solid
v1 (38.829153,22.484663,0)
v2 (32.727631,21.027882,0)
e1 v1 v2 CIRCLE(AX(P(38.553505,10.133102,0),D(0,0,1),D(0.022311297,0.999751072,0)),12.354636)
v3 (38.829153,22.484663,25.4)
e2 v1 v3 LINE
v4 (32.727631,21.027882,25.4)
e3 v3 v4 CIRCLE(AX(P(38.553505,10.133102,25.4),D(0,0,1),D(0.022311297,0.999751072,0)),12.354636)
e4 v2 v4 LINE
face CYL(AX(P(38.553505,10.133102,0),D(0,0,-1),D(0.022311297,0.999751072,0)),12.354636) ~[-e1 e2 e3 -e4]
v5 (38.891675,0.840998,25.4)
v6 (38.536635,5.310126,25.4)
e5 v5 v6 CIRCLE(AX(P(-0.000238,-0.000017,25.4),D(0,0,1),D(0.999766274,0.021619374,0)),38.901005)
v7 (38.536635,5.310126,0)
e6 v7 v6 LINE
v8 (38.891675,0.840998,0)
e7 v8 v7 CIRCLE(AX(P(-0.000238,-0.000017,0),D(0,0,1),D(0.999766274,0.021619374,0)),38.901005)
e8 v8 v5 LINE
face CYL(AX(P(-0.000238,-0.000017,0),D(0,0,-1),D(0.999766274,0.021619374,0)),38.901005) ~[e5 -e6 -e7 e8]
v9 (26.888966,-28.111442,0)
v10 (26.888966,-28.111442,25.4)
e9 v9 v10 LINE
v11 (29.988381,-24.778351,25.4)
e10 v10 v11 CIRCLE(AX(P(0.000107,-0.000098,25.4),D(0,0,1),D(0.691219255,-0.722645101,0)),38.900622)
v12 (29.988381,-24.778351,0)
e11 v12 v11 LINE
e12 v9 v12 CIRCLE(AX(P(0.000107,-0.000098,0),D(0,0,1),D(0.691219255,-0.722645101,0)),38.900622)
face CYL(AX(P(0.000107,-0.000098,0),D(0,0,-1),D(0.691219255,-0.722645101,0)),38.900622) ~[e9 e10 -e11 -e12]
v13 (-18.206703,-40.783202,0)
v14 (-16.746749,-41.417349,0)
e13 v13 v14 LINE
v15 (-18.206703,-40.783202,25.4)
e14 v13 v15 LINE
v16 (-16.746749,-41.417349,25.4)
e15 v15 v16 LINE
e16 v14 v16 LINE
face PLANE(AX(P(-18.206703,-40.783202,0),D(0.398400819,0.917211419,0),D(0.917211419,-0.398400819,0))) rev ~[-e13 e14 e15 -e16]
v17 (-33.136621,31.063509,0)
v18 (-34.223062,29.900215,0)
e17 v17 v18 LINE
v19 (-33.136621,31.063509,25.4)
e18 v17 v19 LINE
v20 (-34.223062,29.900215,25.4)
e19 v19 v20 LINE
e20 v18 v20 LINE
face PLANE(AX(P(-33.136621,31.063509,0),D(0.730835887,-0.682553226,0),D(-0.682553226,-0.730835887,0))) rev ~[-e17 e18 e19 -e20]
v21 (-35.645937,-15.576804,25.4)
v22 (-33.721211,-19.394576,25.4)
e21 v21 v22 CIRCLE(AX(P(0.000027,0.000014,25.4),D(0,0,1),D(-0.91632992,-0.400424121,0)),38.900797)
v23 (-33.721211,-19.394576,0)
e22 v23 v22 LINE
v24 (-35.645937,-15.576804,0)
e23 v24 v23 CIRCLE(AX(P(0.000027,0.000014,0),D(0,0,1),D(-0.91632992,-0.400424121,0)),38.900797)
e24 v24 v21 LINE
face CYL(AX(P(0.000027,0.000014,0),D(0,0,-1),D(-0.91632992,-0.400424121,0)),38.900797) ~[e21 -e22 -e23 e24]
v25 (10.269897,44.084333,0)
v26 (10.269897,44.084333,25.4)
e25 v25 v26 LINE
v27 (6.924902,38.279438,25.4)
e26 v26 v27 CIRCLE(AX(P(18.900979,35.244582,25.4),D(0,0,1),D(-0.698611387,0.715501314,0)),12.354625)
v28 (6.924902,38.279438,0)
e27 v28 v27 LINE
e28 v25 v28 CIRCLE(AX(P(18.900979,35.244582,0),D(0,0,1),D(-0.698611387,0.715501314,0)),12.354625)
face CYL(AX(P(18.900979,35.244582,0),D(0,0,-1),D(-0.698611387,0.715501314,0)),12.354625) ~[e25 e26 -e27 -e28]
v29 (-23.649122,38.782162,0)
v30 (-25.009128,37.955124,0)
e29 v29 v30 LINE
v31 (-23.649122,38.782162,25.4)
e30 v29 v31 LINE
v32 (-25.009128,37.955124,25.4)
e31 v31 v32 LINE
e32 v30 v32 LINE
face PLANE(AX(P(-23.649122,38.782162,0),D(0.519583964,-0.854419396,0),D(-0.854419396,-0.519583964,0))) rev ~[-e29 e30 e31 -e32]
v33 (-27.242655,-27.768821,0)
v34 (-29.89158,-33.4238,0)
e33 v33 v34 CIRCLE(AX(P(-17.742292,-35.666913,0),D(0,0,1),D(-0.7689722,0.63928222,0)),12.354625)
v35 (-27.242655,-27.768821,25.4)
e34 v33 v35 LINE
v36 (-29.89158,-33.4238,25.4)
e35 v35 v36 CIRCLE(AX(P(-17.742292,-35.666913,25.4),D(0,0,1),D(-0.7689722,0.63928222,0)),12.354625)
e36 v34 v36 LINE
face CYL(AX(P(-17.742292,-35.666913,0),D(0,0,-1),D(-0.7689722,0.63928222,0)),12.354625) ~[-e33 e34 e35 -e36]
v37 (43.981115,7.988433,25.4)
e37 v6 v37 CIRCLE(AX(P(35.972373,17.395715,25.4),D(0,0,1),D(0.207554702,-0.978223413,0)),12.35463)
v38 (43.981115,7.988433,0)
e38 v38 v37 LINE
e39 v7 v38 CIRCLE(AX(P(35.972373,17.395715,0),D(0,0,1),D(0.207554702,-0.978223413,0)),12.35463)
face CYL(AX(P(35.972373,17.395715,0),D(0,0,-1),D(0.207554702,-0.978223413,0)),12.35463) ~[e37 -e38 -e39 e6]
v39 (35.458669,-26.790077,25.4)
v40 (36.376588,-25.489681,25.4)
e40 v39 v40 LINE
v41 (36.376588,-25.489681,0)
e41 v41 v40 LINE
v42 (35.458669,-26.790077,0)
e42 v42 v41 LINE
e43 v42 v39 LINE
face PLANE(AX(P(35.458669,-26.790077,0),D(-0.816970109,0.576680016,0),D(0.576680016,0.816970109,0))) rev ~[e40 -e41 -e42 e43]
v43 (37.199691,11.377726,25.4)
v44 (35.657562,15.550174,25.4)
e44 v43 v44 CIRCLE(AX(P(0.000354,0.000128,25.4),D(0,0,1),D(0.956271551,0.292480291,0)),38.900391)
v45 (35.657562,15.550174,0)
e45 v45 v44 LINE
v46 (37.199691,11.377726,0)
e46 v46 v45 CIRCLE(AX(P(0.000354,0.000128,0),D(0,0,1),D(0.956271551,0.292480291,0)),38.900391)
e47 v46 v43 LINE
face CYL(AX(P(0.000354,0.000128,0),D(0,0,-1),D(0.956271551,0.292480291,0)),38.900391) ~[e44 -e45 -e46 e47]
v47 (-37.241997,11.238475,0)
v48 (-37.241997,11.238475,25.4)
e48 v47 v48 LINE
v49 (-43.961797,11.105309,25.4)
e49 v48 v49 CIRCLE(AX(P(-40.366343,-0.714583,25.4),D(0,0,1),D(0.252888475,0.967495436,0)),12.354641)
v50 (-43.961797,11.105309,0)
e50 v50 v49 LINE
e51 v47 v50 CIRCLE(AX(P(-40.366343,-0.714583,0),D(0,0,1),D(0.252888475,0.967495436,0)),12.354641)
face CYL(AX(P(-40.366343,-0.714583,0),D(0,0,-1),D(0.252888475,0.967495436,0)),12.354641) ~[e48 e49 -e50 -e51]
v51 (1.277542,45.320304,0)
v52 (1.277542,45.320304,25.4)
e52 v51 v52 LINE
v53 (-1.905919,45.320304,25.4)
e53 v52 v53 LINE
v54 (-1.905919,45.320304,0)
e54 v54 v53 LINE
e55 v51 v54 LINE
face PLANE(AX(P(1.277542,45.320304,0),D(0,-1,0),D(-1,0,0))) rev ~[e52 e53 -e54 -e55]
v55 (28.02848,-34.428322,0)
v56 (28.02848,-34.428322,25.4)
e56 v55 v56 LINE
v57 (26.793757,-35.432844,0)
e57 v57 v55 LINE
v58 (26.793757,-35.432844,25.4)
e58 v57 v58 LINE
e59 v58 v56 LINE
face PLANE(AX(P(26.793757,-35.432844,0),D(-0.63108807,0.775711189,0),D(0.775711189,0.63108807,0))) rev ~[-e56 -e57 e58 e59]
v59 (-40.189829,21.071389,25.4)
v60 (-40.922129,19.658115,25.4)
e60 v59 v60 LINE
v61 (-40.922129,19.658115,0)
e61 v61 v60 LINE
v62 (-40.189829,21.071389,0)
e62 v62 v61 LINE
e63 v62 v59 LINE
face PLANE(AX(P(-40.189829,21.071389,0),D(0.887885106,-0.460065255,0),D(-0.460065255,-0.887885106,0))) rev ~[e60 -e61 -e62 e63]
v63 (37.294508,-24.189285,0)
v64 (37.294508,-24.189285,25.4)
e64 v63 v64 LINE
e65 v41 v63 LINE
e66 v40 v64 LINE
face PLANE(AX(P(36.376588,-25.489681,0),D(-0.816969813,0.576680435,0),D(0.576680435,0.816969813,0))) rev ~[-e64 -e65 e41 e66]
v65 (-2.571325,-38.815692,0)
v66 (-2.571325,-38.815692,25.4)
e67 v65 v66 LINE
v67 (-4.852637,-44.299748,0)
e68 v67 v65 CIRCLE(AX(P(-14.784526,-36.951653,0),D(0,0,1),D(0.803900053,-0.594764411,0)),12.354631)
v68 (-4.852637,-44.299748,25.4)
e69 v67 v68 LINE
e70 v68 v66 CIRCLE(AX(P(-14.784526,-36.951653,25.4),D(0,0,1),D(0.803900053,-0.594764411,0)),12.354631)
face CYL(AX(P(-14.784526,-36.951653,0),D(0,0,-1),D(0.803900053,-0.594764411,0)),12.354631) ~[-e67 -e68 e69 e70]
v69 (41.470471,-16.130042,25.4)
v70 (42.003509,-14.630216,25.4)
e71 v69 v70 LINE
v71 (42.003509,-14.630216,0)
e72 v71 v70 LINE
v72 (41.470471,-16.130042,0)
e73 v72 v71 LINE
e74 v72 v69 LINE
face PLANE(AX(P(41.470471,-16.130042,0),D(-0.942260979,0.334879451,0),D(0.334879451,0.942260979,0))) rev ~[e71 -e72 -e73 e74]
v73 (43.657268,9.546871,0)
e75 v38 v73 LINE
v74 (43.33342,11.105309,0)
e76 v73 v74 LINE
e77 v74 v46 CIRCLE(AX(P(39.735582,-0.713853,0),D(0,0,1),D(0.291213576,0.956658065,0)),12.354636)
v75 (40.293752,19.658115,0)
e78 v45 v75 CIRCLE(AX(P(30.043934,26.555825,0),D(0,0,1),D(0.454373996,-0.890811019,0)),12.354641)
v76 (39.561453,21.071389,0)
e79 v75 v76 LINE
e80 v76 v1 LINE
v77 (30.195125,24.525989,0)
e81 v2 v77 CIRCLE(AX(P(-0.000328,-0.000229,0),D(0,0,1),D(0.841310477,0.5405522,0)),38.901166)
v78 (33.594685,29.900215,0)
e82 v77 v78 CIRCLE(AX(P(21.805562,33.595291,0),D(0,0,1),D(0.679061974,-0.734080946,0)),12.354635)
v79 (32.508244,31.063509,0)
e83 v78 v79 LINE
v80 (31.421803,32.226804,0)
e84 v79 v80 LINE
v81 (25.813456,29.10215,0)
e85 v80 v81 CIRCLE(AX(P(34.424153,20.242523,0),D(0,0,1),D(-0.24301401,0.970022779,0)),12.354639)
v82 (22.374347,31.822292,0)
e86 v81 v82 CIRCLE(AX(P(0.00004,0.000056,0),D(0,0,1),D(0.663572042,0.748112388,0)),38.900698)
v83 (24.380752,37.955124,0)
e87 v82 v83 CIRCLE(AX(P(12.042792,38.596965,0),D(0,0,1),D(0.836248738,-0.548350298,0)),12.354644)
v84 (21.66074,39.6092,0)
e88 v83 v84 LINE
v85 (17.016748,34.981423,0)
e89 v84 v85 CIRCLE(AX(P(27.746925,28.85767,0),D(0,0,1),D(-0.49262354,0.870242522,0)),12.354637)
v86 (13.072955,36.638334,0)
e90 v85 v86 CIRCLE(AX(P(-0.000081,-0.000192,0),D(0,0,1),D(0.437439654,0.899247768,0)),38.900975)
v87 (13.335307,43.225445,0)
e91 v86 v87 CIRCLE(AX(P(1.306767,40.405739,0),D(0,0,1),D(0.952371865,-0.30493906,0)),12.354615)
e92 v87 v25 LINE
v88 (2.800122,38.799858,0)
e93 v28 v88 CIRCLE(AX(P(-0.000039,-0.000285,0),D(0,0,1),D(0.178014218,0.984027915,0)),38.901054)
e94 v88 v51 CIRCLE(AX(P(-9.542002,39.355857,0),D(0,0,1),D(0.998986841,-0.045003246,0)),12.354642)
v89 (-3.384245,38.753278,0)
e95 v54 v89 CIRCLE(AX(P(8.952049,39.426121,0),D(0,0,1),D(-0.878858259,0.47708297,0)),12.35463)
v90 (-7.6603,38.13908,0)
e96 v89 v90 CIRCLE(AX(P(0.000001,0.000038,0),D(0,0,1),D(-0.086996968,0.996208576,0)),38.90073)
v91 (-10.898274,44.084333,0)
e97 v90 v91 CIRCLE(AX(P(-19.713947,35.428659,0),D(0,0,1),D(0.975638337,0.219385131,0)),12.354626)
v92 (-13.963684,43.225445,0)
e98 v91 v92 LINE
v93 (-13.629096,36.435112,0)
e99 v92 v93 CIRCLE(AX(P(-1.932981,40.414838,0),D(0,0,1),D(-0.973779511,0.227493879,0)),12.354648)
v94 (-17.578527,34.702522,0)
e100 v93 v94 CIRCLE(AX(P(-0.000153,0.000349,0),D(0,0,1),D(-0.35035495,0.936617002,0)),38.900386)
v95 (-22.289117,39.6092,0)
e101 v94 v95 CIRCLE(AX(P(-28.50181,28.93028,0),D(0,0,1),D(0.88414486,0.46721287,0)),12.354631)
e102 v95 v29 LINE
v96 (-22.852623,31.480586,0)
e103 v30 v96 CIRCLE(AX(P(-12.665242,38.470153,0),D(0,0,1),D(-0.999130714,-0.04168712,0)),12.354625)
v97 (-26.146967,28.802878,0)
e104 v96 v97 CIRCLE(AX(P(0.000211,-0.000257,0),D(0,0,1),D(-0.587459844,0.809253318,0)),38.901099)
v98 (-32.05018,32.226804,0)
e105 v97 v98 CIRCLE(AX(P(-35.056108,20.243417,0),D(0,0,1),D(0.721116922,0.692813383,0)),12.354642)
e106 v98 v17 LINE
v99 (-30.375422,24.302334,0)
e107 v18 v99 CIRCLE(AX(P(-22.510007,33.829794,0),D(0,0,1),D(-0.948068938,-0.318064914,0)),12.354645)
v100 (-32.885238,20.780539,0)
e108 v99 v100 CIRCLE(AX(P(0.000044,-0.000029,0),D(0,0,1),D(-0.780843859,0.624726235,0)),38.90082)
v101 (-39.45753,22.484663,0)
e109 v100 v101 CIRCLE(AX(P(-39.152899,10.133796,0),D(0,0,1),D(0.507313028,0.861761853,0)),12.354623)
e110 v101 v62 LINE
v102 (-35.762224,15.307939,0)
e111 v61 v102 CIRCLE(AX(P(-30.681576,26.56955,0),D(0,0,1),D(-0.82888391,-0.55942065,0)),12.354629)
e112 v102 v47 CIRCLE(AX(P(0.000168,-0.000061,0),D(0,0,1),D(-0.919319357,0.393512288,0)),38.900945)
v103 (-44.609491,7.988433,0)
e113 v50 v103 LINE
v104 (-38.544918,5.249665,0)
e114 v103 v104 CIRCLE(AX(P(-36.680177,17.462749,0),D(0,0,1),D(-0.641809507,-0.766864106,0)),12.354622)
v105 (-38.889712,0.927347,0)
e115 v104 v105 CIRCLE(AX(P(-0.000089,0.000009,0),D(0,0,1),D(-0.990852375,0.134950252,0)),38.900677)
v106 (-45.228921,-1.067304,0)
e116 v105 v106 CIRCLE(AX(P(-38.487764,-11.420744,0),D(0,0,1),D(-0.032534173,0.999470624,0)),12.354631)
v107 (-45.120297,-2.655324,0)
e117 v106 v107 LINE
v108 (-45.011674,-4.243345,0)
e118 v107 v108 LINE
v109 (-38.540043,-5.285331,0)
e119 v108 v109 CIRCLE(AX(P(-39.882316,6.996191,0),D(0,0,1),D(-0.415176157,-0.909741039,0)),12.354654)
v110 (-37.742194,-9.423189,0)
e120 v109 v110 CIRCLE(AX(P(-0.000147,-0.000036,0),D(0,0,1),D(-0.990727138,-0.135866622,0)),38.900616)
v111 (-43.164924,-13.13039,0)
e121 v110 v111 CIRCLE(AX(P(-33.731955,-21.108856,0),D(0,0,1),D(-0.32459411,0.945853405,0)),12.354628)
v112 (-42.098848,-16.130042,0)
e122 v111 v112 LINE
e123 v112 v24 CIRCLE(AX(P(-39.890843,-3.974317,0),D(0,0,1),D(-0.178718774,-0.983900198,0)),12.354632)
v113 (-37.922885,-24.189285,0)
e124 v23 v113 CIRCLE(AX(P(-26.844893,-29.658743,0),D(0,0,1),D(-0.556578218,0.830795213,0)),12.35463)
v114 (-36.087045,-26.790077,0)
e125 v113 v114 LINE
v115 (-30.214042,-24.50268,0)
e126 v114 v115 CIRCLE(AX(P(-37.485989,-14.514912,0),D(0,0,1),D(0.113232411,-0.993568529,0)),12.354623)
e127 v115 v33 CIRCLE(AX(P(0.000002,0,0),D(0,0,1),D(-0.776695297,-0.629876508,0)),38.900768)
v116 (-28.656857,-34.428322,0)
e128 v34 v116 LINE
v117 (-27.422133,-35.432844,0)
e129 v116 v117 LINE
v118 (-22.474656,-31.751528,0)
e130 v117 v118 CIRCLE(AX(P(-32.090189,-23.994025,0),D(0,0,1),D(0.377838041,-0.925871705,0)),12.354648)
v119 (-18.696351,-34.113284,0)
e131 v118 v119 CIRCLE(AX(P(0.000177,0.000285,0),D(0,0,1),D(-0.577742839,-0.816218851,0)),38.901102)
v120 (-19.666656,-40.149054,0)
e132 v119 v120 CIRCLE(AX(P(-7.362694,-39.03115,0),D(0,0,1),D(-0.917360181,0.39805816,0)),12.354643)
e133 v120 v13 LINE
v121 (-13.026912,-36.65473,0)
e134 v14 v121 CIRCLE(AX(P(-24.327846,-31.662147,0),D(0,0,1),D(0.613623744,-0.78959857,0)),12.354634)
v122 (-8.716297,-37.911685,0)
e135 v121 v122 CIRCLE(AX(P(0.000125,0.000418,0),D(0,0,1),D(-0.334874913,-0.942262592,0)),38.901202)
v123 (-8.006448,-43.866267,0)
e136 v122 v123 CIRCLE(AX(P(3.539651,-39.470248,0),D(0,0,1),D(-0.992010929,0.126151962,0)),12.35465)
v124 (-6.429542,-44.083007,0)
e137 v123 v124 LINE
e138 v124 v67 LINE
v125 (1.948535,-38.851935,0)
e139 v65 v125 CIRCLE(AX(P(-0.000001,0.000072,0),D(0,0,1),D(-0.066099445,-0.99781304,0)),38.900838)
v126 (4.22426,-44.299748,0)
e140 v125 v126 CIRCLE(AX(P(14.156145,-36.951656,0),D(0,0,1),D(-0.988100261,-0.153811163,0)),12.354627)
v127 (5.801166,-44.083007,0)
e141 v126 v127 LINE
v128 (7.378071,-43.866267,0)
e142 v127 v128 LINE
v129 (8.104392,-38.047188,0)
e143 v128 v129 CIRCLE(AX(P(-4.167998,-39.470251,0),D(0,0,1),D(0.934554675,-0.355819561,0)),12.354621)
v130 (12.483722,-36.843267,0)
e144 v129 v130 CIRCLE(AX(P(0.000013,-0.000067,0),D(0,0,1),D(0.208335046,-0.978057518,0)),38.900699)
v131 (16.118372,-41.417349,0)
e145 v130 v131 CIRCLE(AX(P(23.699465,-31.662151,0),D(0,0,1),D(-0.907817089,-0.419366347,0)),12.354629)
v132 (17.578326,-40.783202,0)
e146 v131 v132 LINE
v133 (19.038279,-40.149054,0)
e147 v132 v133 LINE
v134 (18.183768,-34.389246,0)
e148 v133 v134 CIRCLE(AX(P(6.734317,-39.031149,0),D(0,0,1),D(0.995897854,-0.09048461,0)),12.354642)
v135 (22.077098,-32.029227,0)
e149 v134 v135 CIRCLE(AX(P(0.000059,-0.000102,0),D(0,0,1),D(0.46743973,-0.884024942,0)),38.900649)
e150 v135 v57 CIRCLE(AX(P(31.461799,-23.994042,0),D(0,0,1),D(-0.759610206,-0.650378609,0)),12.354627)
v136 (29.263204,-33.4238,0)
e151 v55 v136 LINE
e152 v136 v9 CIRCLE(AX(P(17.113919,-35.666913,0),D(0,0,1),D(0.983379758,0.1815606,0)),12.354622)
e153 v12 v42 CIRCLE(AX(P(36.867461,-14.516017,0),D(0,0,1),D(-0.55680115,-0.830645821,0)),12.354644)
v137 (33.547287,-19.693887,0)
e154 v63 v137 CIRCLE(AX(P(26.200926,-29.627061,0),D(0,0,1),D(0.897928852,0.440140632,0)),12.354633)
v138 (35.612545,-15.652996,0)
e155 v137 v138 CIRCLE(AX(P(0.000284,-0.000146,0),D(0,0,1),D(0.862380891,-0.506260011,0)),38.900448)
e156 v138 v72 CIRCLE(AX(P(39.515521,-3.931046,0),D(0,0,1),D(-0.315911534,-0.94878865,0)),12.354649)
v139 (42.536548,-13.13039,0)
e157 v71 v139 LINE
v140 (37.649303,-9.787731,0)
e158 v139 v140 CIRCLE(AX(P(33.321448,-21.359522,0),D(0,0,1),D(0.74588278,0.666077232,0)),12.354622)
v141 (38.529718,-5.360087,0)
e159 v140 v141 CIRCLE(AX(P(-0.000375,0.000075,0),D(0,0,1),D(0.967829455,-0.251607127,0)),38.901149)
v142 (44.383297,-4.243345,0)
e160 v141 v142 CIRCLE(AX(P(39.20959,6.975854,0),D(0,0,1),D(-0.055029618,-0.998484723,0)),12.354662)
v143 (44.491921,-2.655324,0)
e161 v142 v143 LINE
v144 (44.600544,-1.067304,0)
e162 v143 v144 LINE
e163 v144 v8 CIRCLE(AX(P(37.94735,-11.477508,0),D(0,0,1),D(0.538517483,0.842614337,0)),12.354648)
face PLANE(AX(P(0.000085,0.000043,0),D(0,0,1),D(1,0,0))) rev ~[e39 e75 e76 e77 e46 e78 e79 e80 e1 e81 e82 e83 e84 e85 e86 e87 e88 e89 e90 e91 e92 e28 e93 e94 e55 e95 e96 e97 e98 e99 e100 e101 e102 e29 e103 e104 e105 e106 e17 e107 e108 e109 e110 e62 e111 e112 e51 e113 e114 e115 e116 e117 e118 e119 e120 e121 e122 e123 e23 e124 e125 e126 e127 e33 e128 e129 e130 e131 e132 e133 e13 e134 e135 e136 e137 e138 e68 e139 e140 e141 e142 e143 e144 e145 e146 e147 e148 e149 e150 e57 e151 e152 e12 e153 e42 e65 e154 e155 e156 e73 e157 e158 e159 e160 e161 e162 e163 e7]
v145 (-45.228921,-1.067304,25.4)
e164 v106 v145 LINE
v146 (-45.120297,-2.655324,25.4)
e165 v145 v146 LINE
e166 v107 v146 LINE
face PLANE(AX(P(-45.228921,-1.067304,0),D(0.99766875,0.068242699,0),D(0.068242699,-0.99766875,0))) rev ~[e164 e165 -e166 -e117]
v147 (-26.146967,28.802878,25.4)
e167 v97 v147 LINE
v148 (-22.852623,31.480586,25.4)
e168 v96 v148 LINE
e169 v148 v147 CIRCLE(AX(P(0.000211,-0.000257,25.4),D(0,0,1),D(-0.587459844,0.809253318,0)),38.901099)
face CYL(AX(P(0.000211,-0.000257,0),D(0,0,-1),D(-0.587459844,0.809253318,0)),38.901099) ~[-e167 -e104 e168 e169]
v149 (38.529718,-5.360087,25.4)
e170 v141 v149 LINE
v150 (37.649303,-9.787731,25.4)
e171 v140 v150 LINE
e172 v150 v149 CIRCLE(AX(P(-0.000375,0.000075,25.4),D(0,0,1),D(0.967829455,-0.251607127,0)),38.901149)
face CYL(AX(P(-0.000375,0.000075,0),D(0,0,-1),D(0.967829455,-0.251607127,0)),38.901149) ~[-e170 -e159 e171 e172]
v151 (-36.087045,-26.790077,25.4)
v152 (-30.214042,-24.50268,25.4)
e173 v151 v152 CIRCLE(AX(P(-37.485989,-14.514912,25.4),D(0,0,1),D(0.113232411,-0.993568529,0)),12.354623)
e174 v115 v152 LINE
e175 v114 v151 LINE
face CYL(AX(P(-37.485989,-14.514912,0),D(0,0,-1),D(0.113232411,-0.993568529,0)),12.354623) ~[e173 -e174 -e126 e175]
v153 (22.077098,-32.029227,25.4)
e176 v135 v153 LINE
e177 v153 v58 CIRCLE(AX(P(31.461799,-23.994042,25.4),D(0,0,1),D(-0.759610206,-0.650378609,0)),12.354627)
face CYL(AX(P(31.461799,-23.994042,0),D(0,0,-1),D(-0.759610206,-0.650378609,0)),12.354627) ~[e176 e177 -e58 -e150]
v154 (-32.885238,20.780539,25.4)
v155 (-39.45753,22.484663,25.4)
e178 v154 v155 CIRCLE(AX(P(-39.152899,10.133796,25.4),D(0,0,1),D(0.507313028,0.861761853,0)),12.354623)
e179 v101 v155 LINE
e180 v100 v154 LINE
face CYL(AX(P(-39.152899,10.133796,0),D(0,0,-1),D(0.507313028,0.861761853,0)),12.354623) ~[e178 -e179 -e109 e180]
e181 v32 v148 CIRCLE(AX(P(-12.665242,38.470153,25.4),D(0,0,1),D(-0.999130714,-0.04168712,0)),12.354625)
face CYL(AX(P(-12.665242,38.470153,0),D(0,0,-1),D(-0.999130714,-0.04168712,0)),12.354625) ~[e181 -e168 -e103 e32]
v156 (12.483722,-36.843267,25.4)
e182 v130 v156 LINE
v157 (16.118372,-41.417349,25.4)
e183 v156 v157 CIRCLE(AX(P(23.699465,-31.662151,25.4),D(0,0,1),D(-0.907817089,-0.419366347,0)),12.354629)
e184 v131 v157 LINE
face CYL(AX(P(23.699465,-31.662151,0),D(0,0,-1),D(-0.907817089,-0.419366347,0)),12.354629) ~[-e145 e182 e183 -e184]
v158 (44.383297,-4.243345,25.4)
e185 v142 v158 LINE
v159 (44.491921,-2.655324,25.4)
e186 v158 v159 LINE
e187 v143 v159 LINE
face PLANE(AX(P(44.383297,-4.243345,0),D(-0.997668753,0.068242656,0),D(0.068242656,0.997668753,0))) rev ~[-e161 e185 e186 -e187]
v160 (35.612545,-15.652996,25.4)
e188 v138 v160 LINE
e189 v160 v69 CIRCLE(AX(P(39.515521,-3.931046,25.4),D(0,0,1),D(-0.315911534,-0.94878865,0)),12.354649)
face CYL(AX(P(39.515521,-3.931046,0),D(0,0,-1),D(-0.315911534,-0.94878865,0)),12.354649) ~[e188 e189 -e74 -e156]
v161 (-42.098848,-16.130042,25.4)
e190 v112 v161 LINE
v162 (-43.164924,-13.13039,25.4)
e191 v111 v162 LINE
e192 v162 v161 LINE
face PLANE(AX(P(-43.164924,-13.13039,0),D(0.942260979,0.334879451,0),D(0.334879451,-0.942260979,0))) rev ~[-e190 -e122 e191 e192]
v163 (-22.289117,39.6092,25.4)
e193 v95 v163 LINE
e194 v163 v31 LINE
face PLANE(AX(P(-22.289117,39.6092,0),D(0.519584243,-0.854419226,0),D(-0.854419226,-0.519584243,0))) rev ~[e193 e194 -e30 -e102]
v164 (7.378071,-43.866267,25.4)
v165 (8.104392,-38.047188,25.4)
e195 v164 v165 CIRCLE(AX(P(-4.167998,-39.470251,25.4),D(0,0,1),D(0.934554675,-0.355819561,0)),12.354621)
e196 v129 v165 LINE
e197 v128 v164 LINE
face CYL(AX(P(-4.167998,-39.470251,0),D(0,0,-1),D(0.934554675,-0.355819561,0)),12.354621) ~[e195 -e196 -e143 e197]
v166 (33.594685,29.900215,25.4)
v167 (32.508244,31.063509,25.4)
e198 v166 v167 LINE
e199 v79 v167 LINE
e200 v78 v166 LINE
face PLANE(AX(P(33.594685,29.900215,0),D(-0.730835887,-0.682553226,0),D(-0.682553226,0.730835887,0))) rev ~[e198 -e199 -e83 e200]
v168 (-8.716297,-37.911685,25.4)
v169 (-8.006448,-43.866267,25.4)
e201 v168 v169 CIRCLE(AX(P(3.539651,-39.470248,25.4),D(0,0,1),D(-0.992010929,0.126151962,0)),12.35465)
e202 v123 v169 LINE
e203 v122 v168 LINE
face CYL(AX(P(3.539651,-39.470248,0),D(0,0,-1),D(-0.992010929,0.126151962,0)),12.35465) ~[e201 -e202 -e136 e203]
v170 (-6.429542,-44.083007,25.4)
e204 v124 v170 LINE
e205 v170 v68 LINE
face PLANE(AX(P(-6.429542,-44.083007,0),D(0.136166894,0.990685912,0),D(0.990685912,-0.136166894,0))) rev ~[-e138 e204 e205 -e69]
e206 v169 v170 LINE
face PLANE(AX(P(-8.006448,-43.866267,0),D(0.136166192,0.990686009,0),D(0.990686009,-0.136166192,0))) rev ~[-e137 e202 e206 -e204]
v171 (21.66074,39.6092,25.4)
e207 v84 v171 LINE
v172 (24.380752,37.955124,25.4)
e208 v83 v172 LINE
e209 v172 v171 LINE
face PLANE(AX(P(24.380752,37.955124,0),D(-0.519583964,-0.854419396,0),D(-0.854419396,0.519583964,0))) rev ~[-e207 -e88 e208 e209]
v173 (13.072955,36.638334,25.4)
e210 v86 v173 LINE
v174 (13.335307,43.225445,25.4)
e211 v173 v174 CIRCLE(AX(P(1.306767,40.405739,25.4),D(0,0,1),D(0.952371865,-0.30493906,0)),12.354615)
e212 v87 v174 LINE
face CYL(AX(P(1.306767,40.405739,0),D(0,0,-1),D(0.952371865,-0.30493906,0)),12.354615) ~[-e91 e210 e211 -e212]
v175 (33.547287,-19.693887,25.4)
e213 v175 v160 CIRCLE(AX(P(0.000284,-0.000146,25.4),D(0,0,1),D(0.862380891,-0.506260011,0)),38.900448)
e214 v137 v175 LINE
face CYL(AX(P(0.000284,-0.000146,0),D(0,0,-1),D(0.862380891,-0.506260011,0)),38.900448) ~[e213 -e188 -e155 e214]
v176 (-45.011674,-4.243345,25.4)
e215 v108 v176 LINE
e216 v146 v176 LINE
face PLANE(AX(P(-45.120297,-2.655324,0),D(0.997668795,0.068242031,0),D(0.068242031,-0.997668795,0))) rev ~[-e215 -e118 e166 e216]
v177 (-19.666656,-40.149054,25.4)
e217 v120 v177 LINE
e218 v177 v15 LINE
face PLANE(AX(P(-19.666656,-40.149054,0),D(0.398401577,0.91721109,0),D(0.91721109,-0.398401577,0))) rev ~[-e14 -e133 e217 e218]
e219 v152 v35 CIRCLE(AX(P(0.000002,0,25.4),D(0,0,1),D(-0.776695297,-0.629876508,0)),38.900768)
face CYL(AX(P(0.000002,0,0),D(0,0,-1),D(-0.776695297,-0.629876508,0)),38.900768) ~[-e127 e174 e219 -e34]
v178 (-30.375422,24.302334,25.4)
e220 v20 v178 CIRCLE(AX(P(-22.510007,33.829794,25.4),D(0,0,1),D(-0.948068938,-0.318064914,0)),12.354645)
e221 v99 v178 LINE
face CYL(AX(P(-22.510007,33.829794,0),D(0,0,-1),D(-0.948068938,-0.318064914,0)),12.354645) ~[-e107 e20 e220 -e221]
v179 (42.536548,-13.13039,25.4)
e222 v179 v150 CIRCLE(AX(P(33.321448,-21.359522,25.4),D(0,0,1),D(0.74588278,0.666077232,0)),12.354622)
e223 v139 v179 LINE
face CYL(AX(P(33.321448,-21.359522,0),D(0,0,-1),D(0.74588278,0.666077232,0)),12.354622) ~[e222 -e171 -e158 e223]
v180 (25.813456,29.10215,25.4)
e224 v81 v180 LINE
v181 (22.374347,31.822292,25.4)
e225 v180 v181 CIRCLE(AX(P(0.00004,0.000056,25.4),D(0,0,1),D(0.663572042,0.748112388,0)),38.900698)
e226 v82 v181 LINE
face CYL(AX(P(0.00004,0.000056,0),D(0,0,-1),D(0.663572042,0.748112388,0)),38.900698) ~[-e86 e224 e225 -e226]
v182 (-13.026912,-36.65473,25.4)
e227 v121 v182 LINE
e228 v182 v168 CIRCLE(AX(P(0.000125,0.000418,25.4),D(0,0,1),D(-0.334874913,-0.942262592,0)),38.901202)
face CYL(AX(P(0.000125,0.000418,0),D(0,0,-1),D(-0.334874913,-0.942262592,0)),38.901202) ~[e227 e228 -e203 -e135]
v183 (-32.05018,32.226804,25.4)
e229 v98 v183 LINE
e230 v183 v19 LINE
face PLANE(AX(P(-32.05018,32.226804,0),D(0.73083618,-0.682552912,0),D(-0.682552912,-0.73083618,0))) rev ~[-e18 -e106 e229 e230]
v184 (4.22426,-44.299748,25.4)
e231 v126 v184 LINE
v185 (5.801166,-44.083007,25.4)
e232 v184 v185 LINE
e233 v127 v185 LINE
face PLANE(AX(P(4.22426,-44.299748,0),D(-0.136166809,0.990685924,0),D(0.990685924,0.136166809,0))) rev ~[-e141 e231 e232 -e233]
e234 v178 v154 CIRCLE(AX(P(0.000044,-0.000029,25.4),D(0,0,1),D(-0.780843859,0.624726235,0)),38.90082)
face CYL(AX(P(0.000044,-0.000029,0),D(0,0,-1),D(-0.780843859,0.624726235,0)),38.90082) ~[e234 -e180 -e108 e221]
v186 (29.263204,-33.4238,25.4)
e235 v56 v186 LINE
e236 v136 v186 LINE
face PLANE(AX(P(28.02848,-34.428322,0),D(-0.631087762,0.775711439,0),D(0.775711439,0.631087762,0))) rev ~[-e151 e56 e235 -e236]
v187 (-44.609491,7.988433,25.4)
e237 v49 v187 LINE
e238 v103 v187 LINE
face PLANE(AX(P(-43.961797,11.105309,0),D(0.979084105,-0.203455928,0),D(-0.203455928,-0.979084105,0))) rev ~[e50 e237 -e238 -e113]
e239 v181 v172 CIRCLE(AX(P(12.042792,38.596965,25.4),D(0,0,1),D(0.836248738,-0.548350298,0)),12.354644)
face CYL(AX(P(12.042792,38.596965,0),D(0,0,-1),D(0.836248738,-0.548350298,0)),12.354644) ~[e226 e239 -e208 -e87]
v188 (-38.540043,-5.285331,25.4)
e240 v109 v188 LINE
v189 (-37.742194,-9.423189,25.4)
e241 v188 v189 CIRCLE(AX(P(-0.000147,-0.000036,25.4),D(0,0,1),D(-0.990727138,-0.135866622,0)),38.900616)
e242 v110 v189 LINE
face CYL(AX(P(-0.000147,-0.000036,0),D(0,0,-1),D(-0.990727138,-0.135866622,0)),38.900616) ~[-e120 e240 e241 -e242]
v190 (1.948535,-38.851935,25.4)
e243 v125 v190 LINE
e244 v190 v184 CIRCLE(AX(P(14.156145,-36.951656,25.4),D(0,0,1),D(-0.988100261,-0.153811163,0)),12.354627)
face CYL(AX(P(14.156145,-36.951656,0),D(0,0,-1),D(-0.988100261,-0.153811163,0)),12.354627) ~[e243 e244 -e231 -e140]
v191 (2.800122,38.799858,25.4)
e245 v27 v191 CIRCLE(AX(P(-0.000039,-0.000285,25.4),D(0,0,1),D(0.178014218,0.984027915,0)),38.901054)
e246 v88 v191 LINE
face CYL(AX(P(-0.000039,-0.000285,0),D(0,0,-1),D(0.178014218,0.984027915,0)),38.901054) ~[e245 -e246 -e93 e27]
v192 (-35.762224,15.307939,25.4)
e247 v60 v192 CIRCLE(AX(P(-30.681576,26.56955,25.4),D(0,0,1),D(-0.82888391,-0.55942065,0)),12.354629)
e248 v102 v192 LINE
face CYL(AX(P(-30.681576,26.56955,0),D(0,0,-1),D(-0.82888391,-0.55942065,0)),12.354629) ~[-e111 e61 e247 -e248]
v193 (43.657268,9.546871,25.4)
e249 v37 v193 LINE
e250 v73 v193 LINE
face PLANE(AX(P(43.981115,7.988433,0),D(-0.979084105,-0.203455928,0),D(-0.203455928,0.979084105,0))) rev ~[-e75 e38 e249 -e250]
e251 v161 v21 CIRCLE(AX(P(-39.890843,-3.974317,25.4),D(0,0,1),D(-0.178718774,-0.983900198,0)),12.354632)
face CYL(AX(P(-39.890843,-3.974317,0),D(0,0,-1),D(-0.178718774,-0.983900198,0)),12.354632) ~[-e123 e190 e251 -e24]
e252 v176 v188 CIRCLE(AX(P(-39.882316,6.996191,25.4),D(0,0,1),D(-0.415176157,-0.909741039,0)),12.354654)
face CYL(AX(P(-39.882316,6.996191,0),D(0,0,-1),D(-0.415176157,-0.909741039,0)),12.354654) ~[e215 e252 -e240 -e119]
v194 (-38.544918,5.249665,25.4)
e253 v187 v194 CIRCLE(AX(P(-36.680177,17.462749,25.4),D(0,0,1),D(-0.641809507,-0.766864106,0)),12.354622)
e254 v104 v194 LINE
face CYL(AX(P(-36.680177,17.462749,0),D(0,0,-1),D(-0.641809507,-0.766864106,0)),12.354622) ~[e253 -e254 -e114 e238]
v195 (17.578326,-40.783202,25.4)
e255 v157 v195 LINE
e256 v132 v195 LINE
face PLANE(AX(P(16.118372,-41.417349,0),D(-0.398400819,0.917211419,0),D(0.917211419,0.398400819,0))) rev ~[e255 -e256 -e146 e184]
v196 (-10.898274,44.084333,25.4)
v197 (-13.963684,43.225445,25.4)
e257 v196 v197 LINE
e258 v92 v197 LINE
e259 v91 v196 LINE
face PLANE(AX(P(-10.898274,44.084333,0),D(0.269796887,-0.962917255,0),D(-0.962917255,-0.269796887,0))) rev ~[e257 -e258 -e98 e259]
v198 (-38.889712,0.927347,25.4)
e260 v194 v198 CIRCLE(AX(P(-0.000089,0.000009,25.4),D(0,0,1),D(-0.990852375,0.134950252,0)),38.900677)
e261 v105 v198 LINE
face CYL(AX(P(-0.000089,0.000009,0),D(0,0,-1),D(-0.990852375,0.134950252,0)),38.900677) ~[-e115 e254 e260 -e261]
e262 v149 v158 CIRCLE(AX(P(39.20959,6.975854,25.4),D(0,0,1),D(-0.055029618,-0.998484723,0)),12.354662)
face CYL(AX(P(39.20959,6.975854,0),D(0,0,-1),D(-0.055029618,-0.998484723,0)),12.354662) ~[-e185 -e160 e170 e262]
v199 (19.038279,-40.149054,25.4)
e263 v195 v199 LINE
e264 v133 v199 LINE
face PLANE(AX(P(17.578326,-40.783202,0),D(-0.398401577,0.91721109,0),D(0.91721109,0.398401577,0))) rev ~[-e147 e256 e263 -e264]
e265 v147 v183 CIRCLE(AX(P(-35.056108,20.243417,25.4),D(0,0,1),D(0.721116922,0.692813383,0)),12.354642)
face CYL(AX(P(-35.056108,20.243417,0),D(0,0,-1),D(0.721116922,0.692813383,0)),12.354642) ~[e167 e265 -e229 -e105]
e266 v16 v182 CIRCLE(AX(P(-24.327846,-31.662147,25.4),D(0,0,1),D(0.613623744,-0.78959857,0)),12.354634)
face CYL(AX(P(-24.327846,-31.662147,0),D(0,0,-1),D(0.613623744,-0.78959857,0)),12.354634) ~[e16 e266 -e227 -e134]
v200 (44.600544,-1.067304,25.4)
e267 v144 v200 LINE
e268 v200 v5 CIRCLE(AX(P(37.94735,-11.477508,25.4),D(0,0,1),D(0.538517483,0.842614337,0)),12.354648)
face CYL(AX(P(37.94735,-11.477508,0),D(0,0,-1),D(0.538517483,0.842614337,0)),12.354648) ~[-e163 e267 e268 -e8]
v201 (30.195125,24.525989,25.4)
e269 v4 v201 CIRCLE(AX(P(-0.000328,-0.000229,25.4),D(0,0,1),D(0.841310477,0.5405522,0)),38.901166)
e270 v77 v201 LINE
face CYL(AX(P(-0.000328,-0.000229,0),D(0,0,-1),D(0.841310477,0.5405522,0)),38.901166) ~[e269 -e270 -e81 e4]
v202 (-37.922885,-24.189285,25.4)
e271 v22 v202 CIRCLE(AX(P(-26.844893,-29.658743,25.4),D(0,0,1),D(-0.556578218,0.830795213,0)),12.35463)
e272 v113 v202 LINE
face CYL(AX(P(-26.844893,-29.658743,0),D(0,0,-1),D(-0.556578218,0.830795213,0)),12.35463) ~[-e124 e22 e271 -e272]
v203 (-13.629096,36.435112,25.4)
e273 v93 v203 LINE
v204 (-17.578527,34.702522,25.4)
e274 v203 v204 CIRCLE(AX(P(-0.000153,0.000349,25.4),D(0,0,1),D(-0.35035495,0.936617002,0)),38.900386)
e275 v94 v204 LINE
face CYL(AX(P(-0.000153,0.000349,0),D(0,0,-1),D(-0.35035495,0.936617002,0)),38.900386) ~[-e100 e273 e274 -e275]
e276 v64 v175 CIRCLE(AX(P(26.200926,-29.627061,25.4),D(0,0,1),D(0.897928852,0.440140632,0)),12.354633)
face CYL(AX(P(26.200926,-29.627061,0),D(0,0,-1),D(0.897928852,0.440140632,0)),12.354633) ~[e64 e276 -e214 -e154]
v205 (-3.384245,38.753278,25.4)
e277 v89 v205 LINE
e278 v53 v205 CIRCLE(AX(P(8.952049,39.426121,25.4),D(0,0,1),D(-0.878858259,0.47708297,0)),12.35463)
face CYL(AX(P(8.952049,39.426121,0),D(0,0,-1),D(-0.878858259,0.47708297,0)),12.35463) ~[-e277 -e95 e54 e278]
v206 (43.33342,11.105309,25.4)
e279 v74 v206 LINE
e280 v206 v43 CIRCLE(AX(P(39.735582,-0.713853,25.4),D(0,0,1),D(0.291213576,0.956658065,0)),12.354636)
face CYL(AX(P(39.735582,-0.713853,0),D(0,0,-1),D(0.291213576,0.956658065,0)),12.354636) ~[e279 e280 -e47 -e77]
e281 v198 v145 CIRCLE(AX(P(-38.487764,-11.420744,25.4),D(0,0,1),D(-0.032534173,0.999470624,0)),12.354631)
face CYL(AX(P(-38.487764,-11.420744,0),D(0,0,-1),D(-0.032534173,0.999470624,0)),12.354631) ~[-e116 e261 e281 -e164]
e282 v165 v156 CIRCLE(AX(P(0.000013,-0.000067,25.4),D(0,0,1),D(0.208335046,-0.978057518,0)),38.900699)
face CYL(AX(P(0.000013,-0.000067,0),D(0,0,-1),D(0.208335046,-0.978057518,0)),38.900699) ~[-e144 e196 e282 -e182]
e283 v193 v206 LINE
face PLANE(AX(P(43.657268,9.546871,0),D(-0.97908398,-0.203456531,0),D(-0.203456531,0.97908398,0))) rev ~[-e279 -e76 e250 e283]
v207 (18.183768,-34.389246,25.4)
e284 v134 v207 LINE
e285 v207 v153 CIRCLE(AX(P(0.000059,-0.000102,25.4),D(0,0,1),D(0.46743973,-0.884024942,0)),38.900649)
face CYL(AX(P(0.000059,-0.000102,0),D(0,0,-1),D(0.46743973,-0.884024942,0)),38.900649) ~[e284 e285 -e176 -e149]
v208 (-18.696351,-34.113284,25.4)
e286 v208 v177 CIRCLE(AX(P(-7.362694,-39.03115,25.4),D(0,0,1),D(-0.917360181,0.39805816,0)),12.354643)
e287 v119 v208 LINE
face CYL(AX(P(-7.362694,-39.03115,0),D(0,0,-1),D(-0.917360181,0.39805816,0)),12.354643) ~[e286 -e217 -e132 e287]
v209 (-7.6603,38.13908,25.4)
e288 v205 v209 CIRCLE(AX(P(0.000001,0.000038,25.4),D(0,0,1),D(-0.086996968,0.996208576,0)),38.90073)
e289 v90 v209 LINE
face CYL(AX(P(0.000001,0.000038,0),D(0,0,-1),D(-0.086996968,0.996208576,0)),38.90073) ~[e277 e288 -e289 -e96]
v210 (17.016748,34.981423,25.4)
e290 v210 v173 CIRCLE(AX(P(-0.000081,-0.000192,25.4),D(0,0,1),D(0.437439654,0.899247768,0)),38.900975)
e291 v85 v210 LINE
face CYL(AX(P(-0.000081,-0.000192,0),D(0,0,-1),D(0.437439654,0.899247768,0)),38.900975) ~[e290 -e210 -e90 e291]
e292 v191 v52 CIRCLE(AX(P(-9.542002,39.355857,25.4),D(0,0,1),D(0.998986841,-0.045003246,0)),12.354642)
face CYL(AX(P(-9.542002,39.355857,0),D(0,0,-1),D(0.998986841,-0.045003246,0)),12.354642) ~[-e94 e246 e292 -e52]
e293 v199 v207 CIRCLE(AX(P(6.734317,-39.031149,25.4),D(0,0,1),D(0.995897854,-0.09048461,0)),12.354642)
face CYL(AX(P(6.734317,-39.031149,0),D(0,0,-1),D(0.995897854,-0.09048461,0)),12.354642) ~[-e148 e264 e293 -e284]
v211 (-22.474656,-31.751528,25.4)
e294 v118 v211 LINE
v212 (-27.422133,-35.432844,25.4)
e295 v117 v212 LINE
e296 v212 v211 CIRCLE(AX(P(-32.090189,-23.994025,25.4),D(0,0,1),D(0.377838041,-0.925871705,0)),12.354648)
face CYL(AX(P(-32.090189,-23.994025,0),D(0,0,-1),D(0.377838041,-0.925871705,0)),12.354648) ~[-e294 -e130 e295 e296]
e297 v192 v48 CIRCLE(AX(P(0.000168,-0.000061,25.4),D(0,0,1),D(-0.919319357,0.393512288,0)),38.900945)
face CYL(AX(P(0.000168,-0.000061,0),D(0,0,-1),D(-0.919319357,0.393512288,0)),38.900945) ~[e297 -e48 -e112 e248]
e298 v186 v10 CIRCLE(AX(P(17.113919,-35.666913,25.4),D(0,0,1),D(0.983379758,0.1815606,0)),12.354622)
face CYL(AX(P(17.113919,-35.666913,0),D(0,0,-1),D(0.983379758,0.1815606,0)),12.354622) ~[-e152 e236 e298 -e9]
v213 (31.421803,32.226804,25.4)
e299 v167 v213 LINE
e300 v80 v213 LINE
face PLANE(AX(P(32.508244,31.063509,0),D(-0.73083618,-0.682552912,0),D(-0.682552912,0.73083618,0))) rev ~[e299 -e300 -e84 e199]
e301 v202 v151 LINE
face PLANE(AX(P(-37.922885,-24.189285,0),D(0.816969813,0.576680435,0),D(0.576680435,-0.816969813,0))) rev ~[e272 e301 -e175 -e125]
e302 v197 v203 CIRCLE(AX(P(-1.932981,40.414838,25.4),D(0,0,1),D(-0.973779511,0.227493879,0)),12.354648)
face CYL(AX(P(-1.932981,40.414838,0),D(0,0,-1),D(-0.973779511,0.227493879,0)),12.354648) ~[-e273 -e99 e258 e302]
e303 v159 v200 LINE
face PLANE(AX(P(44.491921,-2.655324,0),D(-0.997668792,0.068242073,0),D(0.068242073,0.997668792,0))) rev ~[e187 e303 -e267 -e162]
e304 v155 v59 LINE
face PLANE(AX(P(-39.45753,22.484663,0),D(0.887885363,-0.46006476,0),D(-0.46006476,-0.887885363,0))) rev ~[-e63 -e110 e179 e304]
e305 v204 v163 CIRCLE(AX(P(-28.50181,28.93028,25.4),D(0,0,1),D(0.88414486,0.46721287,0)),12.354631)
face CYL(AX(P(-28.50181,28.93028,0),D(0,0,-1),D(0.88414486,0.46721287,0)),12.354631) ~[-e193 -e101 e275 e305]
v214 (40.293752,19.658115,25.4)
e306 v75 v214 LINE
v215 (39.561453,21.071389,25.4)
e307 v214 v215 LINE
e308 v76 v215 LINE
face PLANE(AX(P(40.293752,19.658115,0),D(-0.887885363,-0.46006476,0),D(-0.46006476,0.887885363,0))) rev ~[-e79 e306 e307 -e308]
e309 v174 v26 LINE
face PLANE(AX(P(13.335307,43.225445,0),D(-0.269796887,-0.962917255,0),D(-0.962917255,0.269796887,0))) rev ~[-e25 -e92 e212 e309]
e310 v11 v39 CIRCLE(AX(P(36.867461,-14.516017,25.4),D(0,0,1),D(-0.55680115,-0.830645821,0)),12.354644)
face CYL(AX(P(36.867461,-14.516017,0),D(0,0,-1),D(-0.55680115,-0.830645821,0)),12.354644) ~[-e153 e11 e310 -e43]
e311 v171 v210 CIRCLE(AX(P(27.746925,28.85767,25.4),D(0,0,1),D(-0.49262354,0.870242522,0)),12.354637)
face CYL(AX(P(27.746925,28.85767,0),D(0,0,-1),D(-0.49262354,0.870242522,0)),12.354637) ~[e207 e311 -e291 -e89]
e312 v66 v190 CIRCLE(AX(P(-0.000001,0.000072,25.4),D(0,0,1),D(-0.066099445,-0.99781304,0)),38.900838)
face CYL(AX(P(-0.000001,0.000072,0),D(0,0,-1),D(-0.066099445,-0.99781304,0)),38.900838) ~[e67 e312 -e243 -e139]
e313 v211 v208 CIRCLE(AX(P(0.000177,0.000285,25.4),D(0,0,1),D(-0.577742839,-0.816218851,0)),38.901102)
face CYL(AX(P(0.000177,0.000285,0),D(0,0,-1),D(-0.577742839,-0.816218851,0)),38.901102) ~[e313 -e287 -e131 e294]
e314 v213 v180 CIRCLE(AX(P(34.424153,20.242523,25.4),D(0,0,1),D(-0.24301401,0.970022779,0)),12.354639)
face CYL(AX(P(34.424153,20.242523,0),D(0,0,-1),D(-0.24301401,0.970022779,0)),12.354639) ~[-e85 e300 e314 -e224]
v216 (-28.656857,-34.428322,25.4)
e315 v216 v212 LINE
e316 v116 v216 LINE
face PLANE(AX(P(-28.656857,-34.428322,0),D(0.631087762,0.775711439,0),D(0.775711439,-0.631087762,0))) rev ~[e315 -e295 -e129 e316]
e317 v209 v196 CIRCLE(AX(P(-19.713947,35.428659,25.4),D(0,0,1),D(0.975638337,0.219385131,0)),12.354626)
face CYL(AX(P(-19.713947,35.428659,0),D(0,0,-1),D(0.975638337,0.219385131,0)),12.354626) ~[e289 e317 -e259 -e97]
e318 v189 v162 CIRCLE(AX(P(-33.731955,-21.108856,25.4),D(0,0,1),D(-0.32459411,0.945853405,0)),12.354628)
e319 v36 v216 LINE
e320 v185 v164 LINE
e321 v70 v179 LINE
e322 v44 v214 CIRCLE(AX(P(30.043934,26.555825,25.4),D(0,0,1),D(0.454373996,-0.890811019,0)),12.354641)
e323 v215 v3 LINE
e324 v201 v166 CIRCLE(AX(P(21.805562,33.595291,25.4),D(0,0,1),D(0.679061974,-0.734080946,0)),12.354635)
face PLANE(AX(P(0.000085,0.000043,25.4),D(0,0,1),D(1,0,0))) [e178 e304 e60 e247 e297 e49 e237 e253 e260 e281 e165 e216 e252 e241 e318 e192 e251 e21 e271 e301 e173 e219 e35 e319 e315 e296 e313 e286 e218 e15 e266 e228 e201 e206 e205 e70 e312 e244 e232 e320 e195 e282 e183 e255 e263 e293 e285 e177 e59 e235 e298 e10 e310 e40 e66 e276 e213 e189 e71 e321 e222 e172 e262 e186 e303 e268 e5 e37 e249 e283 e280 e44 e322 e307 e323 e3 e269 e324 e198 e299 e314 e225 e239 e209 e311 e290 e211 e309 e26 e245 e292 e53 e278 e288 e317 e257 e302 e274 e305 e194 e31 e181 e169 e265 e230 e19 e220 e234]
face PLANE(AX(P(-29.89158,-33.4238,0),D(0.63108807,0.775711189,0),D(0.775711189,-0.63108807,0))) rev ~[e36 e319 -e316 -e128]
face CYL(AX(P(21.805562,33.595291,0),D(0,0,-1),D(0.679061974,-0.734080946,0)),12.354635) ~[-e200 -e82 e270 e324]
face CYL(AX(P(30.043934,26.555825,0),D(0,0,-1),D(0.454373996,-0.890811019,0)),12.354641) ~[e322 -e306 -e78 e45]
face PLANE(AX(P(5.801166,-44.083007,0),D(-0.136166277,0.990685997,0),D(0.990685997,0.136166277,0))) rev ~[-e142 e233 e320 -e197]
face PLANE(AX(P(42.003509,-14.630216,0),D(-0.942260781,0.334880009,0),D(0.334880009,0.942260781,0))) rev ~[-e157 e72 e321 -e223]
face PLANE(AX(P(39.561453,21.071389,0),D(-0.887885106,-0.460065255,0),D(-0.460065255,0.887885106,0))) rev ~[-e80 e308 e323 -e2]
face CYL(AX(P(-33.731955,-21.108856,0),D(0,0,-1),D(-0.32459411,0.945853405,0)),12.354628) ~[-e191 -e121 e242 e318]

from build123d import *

# Parameters (mm, degrees)
F1_DEPTH = 25.4


with BuildPart() as f1:
    # F0 (on Top) → F1 (new body)
    with BuildSketch(Plane.XY):
        with BuildLine():
            ThreePointArc((32.727631, 21.027882), (31.509958, 22.812106), (30.195125, 24.525989))
            ThreePointArc((30.195125, 24.525989), (28.097608, 26.903421), (25.813456, 29.10215))
            ThreePointArc((25.813456, 29.10215), (24.132258, 30.510716), (22.374347, 31.822292))
            ThreePointArc((22.374347, 31.822292), (19.758786, 33.509104), (17.016748, 34.981423))
            ThreePointArc((17.016748, 34.981423), (15.067644, 35.864129), (13.072955, 36.638334))
            ThreePointArc((13.072955, 36.638334), (10.032541, 37.584808), (6.924902, 38.279438))
            ThreePointArc((6.924902, 38.279438), (4.869469, 38.594791), (2.800122, 38.799858))
            ThreePointArc((2.800122, 38.799858), (-0.292989, 38.899663), (-3.384245, 38.753278))
            ThreePointArc((-3.384245, 38.753278), (-5.530805, 38.505582), (-7.6603, 38.13908))
            ThreePointArc((-7.6603, 38.13908), (-10.678739, 37.406339), (-13.629096, 36.435112))
            ThreePointArc((-13.629096, 36.435112), (-15.62784, 35.623592), (-17.578527, 34.702522))
            ThreePointArc((-17.578527, 34.702522), (-20.279662, 33.19646), (-22.852623, 31.480586))
            ThreePointArc((-22.852623, 31.480586), (-24.53635, 30.186705), (-26.146967, 28.802878))
            ThreePointArc((-26.146967, 28.802878), (-28.350641, 26.636644), (-30.375422, 24.302334))
            ThreePointArc((-30.375422, 24.302334), (-31.679308, 22.57634), (-32.885238, 20.780539))
            ThreePointArc((-32.885238, 20.780539), (-34.432628, 18.101486), (-35.762224, 15.307939))
            ThreePointArc((-35.762224, 15.307939), (-36.558777, 13.293813), (-37.241997, 11.238475))
            ThreePointArc((-37.241997, 11.238475), (-38.011585, 8.26977), (-38.544918, 5.249665))
            ThreePointArc((-38.544918, 5.249665), (-38.777585, 3.093314), (-38.889712, 0.927347))
            ThreePointArc((-38.889712, 0.927347), (-38.839298, -2.185995), (-38.540043, -5.285331))
            ThreePointArc((-38.540043, -5.285331), (-38.197191, -7.365072), (-37.742194, -9.423189))
            ThreePointArc((-37.742194, -9.423189), (-36.822835, -12.543862), (-35.645937, -15.576804))
            ThreePointArc((-35.645937, -15.576804), (-34.736064, -17.512153), (-33.721211, -19.394576))
            ThreePointArc((-33.721211, -19.394576), (-32.069492, -22.018568), (-30.214042, -24.50268))
            ThreePointArc((-30.214042, -24.50268), (-28.774727, -26.177944), (-27.242655, -27.768821))
            ThreePointArc((-27.242655, -27.768821), (-24.938289, -29.855509), (-22.474656, -31.751528))
            ThreePointArc((-22.474656, -31.751528), (-20.619346, -32.986546), (-18.696351, -34.113284))
            ThreePointArc((-18.696351, -34.113284), (-15.912451, -35.497374), (-13.026912, -36.65473))
            ThreePointArc((-13.026912, -36.65473), (-10.889755, -37.345453), (-8.716297, -37.911685))
            ThreePointArc((-8.716297, -37.911685), (-5.661882, -38.486527), (-2.571325, -38.815692))
            ThreePointArc((-2.571325, -38.815692), (-0.311922, -38.899516), (1.948535, -38.851935))
            ThreePointArc((1.948535, -38.851935), (5.042543, -38.57256), (8.104392, -38.047188))
            ThreePointArc((8.104392, -38.047188), (10.311642, -37.509195), (12.483722, -36.843267))
            ThreePointArc((12.483722, -36.843267), (15.382759, -35.730105), (18.183768, -34.389246))
            ThreePointArc((18.183768, -34.389246), (20.164988, -33.266243), (22.077098, -32.029227))
            ThreePointArc((22.077098, -32.029227), (24.561273, -30.166431), (26.888966, -28.111442))
            ThreePointArc((26.888966, -28.111442), (28.487463, -26.490265), (29.988381, -24.778351))
            ThreePointArc((29.988381, -24.778351), (31.869393, -22.307206), (33.547287, -19.693887))
            ThreePointArc((33.547287, -19.693887), (34.638892, -17.703583), (35.612545, -15.652996))
            ThreePointArc((35.612545, -15.652996), (36.748128, -12.761063), (37.649303, -9.787731))
            ThreePointArc((37.649303, -9.787731), (38.153791, -7.586691), (38.529718, -5.360087))
            ThreePointArc((38.529718, -5.360087), (38.807894, -2.686457), (38.900767, 0))
            ThreePointArc((38.900767, 0), (38.898494, 0.420524), (38.891675, 0.840998))
            ThreePointArc((38.891675, 0.840998), (38.77859, 3.080681), (38.536635, 5.310126))
            ThreePointArc((38.536635, 5.310126), (37.989495, 8.37066), (37.199691, 11.377726))
            ThreePointArc((37.199691, 11.377726), (36.488316, 13.486011), (35.657562, 15.550174))
            ThreePointArc((35.657562, 15.550174), (34.302113, 18.347607), (32.727631, 21.027882))
        make_face()
        with BuildLine():
            ThreePointArc((25.813456, 29.10215), (28.097608, 26.903421), (30.195125, 24.525989))
            ThreePointArc((30.195125, 24.525989), (32.246607, 26.990627), (33.594685, 29.900215))
            Line((33.594685, 29.900215), (32.508244, 31.063509))
            Line((32.508244, 31.063509), (31.421803, 32.226804))
            ThreePointArc((31.421803, 32.226804), (28.411119, 31.035137), (25.813456, 29.10215))
        make_face()
        with BuildLine():
            ThreePointArc((38.829153, 22.484663), (35.684393, 22.149975), (32.727631, 21.027882))
            ThreePointArc((32.727631, 21.027882), (34.302113, 18.347607), (35.657562, 15.550174))
            ThreePointArc((35.657562, 15.550174), (38.237287, 17.308872), (40.293752, 19.658115))
            Line((40.293752, 19.658115), (39.561453, 21.071389))
            Line((39.561453, 21.071389), (38.829153, 22.484663))
        make_face()
        with BuildLine():
            ThreePointArc((17.016748, 34.981423), (19.758786, 33.509104), (22.374347, 31.822292))
            ThreePointArc((22.374347, 31.822292), (23.785008, 34.755405), (24.380752, 37.955124))
            Line((24.380752, 37.955124), (23.020746, 38.782162))
            Line((23.020746, 38.782162), (21.66074, 39.6092))
            ThreePointArc((21.66074, 39.6092), (19.026169, 37.608982), (17.016748, 34.981423))
        make_face()
        with BuildLine():
            ThreePointArc((43.33342, 11.105309), (40.283748, 11.628616), (37.199691, 11.377726))
            ThreePointArc((37.199691, 11.377726), (37.989495, 8.37066), (38.536635, 5.310126))
            ThreePointArc((38.536635, 5.310126), (41.425852, 6.309847), (43.981115, 7.988433))
            Line((43.981115, 7.988433), (43.657268, 9.546871))
            Line((43.657268, 9.546871), (43.33342, 11.105309))
        make_face()
        with BuildLine():
            ThreePointArc((6.924902, 38.279438), (10.032541, 37.584808), (13.072955, 36.638334))
            ThreePointArc((13.072955, 36.638334), (13.651595, 39.914068), (13.335307, 43.225445))
            Line((13.335307, 43.225445), (11.802602, 43.654889))
            Line((11.802602, 43.654889), (10.269897, 44.084333))
            ThreePointArc((10.269897, 44.084333), (8.196403, 41.412955), (6.924902, 38.279438))
        make_face()
        with BuildLine():
            ThreePointArc((44.600544, -1.067304), (41.864106, 0.239845), (38.891675, 0.840998))
            ThreePointArc((38.891675, 0.840998), (38.898494, 0.420524), (38.900767, 0))
            ThreePointArc((38.900767, 0), (38.807894, -2.686457), (38.529718, -5.360087))
            ThreePointArc((38.529718, -5.360087), (41.524847, -5.15993), (44.383297, -4.243345))
            Line((44.383297, -4.243345), (44.491921, -2.655324))
            Line((44.491921, -2.655324), (44.600544, -1.067304))
        make_face()
        with BuildLine():
            ThreePointArc((-3.384245, 38.753278), (-0.292989, 38.899663), (2.800122, 38.799858))
            ThreePointArc((2.800122, 38.799858), (2.48899, 42.165197), (1.277542, 45.320304))
            Line((1.277542, 45.320304), (-0.314188, 45.320304))
            Line((-0.314188, 45.320304), (-1.905919, 45.320304))
            ThreePointArc((-1.905919, 45.320304), (-3.100955, 42.139414), (-3.384245, 38.753278))
        make_face()
        with BuildLine():
            ThreePointArc((-13.629096, 36.435112), (-10.678739, 37.406339), (-7.6603, 38.13908))
            ThreePointArc((-7.6603, 38.13908), (-8.864125, 41.337817), (-10.898274, 44.084333))
            Line((-10.898274, 44.084333), (-12.430979, 43.654889))
            Line((-12.430979, 43.654889), (-13.963684, 43.225445))
            ThreePointArc((-13.963684, 43.225445), (-14.272658, 39.806811), (-13.629096, 36.435112))
        make_face()
        with BuildLine():
            ThreePointArc((42.536548, -13.13039), (40.296134, -11.161952), (37.649303, -9.787731))
            ThreePointArc((37.649303, -9.787731), (36.748128, -12.761063), (35.612545, -15.652996))
            ThreePointArc((35.612545, -15.652996), (38.512728, -16.24493), (41.470471, -16.130042))
            Line((41.470471, -16.130042), (42.003509, -14.630216))
            Line((42.003509, -14.630216), (42.536548, -13.13039))
        make_face()
        with BuildLine():
            ThreePointArc((-22.852623, 31.480586), (-20.279662, 33.19646), (-17.578527, 34.702522))
            ThreePointArc((-17.578527, 34.702522), (-19.589499, 37.486424), (-22.289117, 39.6092))
            Line((-22.289117, 39.6092), (-23.649122, 38.782162))
            Line((-23.649122, 38.782162), (-25.009128, 37.955124))
            ThreePointArc((-25.009128, 37.955124), (-24.386778, 34.566005), (-22.852623, 31.480586))
        make_face()
        with BuildLine():
            ThreePointArc((37.294508, -24.189285), (35.690922, -21.716502), (33.547287, -19.693887))
            ThreePointArc((33.547287, -19.693887), (31.869393, -22.307206), (29.988381, -24.778351))
            ThreePointArc((29.988381, -24.778351), (32.603195, -26.111416), (35.458669, -26.790077))
            Line((35.458669, -26.790077), (36.376588, -25.489681))
            Line((36.376588, -25.489681), (37.294508, -24.189285))
        make_face()
        with BuildLine():
            ThreePointArc((-30.375422, 24.302334), (-28.350641, 26.636644), (-26.146967, 28.802878))
            ThreePointArc((-26.146967, 28.802878), (-28.857476, 30.930518), (-32.05018, 32.226804))
            Line((-32.05018, 32.226804), (-33.136621, 31.063509))
            Line((-33.136621, 31.063509), (-34.223062, 29.900215))
            ThreePointArc((-34.223062, 29.900215), (-32.691519, 26.831647), (-30.375422, 24.302334))
        make_face()
        with BuildLine():
            ThreePointArc((29.263204, -33.4238), (28.393297, -30.62585), (26.888966, -28.111442))
            ThreePointArc((26.888966, -28.111442), (24.561273, -30.166431), (22.077098, -32.029227))
            ThreePointArc((22.077098, -32.029227), (24.232273, -34.012563), (26.793757, -35.432844))
            Line((26.793757, -35.432844), (28.02848, -34.428322))
            Line((28.02848, -34.428322), (29.263204, -33.4238))
        make_face()
        with BuildLine():
            ThreePointArc((-35.762224, 15.307939), (-34.432628, 18.101486), (-32.885238, 20.780539))
            ThreePointArc((-32.885238, 20.780539), (-36.052021, 22.092946), (-39.45753, 22.484663))
            Line((-39.45753, 22.484663), (-40.189829, 21.071389))
            Line((-40.189829, 21.071389), (-40.922129, 19.658115))
            ThreePointArc((-40.922129, 19.658115), (-38.64498, 17.12386), (-35.762224, 15.307939))
        make_face()
        with BuildLine():
            ThreePointArc((19.038279, -40.149054), (18.955201, -37.218089), (18.183768, -34.389246))
            ThreePointArc((18.183768, -34.389246), (15.382759, -35.730105), (12.483722, -36.843267))
            ThreePointArc((12.483722, -36.843267), (14.026781, -39.348245), (16.118372, -41.417349))
            Line((16.118372, -41.417349), (17.578326, -40.783202))
            Line((17.578326, -40.783202), (19.038279, -40.149054))
        make_face()
        with BuildLine():
            ThreePointArc((-38.544918, 5.249665), (-38.011585, 8.26977), (-37.241997, 11.238475))
            ThreePointArc((-37.241997, 11.238475), (-40.611127, 11.637632), (-43.961797, 11.105309))
            Line((-43.961797, 11.105309), (-44.285644, 9.546871))
            Line((-44.285644, 9.546871), (-44.609491, 7.988433))
            ThreePointArc((-44.609491, 7.988433), (-41.765065, 6.20306), (-38.544918, 5.249665))
        make_face()
        with BuildLine():
            ThreePointArc((7.378071, -43.866267), (8.091495, -41.000446), (8.104392, -38.047188))
            ThreePointArc((8.104392, -38.047188), (5.042543, -38.57256), (1.948535, -38.851935))
            ThreePointArc((1.948535, -38.851935), (2.75619, -41.71378), (4.22426, -44.299748))
            Line((4.22426, -44.299748), (5.801166, -44.083007))
            Line((5.801166, -44.083007), (7.378071, -43.866267))
        make_face()
        with BuildLine():
            ThreePointArc((-38.540043, -5.285331), (-38.839298, -2.185995), (-38.889712, 0.927347))
            ThreePointArc((-38.889712, 0.927347), (-42.19595, 0.364258), (-45.228921, -1.067304))
            Line((-45.228921, -1.067304), (-45.120297, -2.655324))
            Line((-45.120297, -2.655324), (-45.011674, -4.243345))
            ThreePointArc((-45.011674, -4.243345), (-41.846225, -5.201372), (-38.540043, -5.285331))
        make_face()
        with BuildLine():
            ThreePointArc((-4.852637, -44.299748), (-3.377512, -41.696856), (-2.571325, -38.815692))
            ThreePointArc((-2.571325, -38.815692), (-5.661882, -38.486527), (-8.716297, -37.911685))
            ThreePointArc((-8.716297, -37.911685), (-8.728137, -40.932698), (-8.006448, -43.866267))
            Line((-8.006448, -43.866267), (-6.429542, -44.083007))
            Line((-6.429542, -44.083007), (-4.852637, -44.299748))
        make_face()
        with BuildLine():
            ThreePointArc((-35.645937, -15.576804), (-36.822835, -12.543862), (-37.742194, -9.423189))
            ThreePointArc((-37.742194, -9.423189), (-40.704458, -10.909786), (-43.164924, -13.13039))
            Line((-43.164924, -13.13039), (-42.631886, -14.630216))
            Line((-42.631886, -14.630216), (-42.098848, -16.130042))
            ThreePointArc((-42.098848, -16.130042), (-38.835495, -16.283792), (-35.645937, -15.576804))
        make_face()
        with BuildLine():
            ThreePointArc((-16.746749, -41.417349), (-14.591142, -39.266987), (-13.026912, -36.65473))
            ThreePointArc((-13.026912, -36.65473), (-15.912451, -35.497374), (-18.696351, -34.113284))
            ThreePointArc((-18.696351, -34.113284), (-19.560722, -37.070206), (-19.666656, -40.149054))
            Line((-19.666656, -40.149054), (-18.206703, -40.783202))
            Line((-18.206703, -40.783202), (-16.746749, -41.417349))
        make_face()
        with BuildLine():
            ThreePointArc((-30.214042, -24.50268), (-32.069492, -22.018568), (-33.721211, -19.394576))
            ThreePointArc((-33.721211, -19.394576), (-36.136643, -21.516246), (-37.922885, -24.189285))
            Line((-37.922885, -24.189285), (-37.004965, -25.489681))
            Line((-37.004965, -25.489681), (-36.087045, -26.790077))
            ThreePointArc((-36.087045, -26.790077), (-33.002226, -26.027192), (-30.214042, -24.50268))
        make_face()
        with BuildLine():
            ThreePointArc((-27.422133, -35.432844), (-24.715011, -33.90584), (-22.474656, -31.751528))
            ThreePointArc((-22.474656, -31.751528), (-24.938289, -29.855509), (-27.242655, -27.768821))
            ThreePointArc((-27.242655, -27.768821), (-28.930301, -30.426187), (-29.89158, -33.4238))
            Line((-29.89158, -33.4238), (-28.656857, -34.428322))
            Line((-28.656857, -34.428322), (-27.422133, -35.432844))
        make_face()
    extrude(amount=F1_DEPTH)


solid = f1.part
